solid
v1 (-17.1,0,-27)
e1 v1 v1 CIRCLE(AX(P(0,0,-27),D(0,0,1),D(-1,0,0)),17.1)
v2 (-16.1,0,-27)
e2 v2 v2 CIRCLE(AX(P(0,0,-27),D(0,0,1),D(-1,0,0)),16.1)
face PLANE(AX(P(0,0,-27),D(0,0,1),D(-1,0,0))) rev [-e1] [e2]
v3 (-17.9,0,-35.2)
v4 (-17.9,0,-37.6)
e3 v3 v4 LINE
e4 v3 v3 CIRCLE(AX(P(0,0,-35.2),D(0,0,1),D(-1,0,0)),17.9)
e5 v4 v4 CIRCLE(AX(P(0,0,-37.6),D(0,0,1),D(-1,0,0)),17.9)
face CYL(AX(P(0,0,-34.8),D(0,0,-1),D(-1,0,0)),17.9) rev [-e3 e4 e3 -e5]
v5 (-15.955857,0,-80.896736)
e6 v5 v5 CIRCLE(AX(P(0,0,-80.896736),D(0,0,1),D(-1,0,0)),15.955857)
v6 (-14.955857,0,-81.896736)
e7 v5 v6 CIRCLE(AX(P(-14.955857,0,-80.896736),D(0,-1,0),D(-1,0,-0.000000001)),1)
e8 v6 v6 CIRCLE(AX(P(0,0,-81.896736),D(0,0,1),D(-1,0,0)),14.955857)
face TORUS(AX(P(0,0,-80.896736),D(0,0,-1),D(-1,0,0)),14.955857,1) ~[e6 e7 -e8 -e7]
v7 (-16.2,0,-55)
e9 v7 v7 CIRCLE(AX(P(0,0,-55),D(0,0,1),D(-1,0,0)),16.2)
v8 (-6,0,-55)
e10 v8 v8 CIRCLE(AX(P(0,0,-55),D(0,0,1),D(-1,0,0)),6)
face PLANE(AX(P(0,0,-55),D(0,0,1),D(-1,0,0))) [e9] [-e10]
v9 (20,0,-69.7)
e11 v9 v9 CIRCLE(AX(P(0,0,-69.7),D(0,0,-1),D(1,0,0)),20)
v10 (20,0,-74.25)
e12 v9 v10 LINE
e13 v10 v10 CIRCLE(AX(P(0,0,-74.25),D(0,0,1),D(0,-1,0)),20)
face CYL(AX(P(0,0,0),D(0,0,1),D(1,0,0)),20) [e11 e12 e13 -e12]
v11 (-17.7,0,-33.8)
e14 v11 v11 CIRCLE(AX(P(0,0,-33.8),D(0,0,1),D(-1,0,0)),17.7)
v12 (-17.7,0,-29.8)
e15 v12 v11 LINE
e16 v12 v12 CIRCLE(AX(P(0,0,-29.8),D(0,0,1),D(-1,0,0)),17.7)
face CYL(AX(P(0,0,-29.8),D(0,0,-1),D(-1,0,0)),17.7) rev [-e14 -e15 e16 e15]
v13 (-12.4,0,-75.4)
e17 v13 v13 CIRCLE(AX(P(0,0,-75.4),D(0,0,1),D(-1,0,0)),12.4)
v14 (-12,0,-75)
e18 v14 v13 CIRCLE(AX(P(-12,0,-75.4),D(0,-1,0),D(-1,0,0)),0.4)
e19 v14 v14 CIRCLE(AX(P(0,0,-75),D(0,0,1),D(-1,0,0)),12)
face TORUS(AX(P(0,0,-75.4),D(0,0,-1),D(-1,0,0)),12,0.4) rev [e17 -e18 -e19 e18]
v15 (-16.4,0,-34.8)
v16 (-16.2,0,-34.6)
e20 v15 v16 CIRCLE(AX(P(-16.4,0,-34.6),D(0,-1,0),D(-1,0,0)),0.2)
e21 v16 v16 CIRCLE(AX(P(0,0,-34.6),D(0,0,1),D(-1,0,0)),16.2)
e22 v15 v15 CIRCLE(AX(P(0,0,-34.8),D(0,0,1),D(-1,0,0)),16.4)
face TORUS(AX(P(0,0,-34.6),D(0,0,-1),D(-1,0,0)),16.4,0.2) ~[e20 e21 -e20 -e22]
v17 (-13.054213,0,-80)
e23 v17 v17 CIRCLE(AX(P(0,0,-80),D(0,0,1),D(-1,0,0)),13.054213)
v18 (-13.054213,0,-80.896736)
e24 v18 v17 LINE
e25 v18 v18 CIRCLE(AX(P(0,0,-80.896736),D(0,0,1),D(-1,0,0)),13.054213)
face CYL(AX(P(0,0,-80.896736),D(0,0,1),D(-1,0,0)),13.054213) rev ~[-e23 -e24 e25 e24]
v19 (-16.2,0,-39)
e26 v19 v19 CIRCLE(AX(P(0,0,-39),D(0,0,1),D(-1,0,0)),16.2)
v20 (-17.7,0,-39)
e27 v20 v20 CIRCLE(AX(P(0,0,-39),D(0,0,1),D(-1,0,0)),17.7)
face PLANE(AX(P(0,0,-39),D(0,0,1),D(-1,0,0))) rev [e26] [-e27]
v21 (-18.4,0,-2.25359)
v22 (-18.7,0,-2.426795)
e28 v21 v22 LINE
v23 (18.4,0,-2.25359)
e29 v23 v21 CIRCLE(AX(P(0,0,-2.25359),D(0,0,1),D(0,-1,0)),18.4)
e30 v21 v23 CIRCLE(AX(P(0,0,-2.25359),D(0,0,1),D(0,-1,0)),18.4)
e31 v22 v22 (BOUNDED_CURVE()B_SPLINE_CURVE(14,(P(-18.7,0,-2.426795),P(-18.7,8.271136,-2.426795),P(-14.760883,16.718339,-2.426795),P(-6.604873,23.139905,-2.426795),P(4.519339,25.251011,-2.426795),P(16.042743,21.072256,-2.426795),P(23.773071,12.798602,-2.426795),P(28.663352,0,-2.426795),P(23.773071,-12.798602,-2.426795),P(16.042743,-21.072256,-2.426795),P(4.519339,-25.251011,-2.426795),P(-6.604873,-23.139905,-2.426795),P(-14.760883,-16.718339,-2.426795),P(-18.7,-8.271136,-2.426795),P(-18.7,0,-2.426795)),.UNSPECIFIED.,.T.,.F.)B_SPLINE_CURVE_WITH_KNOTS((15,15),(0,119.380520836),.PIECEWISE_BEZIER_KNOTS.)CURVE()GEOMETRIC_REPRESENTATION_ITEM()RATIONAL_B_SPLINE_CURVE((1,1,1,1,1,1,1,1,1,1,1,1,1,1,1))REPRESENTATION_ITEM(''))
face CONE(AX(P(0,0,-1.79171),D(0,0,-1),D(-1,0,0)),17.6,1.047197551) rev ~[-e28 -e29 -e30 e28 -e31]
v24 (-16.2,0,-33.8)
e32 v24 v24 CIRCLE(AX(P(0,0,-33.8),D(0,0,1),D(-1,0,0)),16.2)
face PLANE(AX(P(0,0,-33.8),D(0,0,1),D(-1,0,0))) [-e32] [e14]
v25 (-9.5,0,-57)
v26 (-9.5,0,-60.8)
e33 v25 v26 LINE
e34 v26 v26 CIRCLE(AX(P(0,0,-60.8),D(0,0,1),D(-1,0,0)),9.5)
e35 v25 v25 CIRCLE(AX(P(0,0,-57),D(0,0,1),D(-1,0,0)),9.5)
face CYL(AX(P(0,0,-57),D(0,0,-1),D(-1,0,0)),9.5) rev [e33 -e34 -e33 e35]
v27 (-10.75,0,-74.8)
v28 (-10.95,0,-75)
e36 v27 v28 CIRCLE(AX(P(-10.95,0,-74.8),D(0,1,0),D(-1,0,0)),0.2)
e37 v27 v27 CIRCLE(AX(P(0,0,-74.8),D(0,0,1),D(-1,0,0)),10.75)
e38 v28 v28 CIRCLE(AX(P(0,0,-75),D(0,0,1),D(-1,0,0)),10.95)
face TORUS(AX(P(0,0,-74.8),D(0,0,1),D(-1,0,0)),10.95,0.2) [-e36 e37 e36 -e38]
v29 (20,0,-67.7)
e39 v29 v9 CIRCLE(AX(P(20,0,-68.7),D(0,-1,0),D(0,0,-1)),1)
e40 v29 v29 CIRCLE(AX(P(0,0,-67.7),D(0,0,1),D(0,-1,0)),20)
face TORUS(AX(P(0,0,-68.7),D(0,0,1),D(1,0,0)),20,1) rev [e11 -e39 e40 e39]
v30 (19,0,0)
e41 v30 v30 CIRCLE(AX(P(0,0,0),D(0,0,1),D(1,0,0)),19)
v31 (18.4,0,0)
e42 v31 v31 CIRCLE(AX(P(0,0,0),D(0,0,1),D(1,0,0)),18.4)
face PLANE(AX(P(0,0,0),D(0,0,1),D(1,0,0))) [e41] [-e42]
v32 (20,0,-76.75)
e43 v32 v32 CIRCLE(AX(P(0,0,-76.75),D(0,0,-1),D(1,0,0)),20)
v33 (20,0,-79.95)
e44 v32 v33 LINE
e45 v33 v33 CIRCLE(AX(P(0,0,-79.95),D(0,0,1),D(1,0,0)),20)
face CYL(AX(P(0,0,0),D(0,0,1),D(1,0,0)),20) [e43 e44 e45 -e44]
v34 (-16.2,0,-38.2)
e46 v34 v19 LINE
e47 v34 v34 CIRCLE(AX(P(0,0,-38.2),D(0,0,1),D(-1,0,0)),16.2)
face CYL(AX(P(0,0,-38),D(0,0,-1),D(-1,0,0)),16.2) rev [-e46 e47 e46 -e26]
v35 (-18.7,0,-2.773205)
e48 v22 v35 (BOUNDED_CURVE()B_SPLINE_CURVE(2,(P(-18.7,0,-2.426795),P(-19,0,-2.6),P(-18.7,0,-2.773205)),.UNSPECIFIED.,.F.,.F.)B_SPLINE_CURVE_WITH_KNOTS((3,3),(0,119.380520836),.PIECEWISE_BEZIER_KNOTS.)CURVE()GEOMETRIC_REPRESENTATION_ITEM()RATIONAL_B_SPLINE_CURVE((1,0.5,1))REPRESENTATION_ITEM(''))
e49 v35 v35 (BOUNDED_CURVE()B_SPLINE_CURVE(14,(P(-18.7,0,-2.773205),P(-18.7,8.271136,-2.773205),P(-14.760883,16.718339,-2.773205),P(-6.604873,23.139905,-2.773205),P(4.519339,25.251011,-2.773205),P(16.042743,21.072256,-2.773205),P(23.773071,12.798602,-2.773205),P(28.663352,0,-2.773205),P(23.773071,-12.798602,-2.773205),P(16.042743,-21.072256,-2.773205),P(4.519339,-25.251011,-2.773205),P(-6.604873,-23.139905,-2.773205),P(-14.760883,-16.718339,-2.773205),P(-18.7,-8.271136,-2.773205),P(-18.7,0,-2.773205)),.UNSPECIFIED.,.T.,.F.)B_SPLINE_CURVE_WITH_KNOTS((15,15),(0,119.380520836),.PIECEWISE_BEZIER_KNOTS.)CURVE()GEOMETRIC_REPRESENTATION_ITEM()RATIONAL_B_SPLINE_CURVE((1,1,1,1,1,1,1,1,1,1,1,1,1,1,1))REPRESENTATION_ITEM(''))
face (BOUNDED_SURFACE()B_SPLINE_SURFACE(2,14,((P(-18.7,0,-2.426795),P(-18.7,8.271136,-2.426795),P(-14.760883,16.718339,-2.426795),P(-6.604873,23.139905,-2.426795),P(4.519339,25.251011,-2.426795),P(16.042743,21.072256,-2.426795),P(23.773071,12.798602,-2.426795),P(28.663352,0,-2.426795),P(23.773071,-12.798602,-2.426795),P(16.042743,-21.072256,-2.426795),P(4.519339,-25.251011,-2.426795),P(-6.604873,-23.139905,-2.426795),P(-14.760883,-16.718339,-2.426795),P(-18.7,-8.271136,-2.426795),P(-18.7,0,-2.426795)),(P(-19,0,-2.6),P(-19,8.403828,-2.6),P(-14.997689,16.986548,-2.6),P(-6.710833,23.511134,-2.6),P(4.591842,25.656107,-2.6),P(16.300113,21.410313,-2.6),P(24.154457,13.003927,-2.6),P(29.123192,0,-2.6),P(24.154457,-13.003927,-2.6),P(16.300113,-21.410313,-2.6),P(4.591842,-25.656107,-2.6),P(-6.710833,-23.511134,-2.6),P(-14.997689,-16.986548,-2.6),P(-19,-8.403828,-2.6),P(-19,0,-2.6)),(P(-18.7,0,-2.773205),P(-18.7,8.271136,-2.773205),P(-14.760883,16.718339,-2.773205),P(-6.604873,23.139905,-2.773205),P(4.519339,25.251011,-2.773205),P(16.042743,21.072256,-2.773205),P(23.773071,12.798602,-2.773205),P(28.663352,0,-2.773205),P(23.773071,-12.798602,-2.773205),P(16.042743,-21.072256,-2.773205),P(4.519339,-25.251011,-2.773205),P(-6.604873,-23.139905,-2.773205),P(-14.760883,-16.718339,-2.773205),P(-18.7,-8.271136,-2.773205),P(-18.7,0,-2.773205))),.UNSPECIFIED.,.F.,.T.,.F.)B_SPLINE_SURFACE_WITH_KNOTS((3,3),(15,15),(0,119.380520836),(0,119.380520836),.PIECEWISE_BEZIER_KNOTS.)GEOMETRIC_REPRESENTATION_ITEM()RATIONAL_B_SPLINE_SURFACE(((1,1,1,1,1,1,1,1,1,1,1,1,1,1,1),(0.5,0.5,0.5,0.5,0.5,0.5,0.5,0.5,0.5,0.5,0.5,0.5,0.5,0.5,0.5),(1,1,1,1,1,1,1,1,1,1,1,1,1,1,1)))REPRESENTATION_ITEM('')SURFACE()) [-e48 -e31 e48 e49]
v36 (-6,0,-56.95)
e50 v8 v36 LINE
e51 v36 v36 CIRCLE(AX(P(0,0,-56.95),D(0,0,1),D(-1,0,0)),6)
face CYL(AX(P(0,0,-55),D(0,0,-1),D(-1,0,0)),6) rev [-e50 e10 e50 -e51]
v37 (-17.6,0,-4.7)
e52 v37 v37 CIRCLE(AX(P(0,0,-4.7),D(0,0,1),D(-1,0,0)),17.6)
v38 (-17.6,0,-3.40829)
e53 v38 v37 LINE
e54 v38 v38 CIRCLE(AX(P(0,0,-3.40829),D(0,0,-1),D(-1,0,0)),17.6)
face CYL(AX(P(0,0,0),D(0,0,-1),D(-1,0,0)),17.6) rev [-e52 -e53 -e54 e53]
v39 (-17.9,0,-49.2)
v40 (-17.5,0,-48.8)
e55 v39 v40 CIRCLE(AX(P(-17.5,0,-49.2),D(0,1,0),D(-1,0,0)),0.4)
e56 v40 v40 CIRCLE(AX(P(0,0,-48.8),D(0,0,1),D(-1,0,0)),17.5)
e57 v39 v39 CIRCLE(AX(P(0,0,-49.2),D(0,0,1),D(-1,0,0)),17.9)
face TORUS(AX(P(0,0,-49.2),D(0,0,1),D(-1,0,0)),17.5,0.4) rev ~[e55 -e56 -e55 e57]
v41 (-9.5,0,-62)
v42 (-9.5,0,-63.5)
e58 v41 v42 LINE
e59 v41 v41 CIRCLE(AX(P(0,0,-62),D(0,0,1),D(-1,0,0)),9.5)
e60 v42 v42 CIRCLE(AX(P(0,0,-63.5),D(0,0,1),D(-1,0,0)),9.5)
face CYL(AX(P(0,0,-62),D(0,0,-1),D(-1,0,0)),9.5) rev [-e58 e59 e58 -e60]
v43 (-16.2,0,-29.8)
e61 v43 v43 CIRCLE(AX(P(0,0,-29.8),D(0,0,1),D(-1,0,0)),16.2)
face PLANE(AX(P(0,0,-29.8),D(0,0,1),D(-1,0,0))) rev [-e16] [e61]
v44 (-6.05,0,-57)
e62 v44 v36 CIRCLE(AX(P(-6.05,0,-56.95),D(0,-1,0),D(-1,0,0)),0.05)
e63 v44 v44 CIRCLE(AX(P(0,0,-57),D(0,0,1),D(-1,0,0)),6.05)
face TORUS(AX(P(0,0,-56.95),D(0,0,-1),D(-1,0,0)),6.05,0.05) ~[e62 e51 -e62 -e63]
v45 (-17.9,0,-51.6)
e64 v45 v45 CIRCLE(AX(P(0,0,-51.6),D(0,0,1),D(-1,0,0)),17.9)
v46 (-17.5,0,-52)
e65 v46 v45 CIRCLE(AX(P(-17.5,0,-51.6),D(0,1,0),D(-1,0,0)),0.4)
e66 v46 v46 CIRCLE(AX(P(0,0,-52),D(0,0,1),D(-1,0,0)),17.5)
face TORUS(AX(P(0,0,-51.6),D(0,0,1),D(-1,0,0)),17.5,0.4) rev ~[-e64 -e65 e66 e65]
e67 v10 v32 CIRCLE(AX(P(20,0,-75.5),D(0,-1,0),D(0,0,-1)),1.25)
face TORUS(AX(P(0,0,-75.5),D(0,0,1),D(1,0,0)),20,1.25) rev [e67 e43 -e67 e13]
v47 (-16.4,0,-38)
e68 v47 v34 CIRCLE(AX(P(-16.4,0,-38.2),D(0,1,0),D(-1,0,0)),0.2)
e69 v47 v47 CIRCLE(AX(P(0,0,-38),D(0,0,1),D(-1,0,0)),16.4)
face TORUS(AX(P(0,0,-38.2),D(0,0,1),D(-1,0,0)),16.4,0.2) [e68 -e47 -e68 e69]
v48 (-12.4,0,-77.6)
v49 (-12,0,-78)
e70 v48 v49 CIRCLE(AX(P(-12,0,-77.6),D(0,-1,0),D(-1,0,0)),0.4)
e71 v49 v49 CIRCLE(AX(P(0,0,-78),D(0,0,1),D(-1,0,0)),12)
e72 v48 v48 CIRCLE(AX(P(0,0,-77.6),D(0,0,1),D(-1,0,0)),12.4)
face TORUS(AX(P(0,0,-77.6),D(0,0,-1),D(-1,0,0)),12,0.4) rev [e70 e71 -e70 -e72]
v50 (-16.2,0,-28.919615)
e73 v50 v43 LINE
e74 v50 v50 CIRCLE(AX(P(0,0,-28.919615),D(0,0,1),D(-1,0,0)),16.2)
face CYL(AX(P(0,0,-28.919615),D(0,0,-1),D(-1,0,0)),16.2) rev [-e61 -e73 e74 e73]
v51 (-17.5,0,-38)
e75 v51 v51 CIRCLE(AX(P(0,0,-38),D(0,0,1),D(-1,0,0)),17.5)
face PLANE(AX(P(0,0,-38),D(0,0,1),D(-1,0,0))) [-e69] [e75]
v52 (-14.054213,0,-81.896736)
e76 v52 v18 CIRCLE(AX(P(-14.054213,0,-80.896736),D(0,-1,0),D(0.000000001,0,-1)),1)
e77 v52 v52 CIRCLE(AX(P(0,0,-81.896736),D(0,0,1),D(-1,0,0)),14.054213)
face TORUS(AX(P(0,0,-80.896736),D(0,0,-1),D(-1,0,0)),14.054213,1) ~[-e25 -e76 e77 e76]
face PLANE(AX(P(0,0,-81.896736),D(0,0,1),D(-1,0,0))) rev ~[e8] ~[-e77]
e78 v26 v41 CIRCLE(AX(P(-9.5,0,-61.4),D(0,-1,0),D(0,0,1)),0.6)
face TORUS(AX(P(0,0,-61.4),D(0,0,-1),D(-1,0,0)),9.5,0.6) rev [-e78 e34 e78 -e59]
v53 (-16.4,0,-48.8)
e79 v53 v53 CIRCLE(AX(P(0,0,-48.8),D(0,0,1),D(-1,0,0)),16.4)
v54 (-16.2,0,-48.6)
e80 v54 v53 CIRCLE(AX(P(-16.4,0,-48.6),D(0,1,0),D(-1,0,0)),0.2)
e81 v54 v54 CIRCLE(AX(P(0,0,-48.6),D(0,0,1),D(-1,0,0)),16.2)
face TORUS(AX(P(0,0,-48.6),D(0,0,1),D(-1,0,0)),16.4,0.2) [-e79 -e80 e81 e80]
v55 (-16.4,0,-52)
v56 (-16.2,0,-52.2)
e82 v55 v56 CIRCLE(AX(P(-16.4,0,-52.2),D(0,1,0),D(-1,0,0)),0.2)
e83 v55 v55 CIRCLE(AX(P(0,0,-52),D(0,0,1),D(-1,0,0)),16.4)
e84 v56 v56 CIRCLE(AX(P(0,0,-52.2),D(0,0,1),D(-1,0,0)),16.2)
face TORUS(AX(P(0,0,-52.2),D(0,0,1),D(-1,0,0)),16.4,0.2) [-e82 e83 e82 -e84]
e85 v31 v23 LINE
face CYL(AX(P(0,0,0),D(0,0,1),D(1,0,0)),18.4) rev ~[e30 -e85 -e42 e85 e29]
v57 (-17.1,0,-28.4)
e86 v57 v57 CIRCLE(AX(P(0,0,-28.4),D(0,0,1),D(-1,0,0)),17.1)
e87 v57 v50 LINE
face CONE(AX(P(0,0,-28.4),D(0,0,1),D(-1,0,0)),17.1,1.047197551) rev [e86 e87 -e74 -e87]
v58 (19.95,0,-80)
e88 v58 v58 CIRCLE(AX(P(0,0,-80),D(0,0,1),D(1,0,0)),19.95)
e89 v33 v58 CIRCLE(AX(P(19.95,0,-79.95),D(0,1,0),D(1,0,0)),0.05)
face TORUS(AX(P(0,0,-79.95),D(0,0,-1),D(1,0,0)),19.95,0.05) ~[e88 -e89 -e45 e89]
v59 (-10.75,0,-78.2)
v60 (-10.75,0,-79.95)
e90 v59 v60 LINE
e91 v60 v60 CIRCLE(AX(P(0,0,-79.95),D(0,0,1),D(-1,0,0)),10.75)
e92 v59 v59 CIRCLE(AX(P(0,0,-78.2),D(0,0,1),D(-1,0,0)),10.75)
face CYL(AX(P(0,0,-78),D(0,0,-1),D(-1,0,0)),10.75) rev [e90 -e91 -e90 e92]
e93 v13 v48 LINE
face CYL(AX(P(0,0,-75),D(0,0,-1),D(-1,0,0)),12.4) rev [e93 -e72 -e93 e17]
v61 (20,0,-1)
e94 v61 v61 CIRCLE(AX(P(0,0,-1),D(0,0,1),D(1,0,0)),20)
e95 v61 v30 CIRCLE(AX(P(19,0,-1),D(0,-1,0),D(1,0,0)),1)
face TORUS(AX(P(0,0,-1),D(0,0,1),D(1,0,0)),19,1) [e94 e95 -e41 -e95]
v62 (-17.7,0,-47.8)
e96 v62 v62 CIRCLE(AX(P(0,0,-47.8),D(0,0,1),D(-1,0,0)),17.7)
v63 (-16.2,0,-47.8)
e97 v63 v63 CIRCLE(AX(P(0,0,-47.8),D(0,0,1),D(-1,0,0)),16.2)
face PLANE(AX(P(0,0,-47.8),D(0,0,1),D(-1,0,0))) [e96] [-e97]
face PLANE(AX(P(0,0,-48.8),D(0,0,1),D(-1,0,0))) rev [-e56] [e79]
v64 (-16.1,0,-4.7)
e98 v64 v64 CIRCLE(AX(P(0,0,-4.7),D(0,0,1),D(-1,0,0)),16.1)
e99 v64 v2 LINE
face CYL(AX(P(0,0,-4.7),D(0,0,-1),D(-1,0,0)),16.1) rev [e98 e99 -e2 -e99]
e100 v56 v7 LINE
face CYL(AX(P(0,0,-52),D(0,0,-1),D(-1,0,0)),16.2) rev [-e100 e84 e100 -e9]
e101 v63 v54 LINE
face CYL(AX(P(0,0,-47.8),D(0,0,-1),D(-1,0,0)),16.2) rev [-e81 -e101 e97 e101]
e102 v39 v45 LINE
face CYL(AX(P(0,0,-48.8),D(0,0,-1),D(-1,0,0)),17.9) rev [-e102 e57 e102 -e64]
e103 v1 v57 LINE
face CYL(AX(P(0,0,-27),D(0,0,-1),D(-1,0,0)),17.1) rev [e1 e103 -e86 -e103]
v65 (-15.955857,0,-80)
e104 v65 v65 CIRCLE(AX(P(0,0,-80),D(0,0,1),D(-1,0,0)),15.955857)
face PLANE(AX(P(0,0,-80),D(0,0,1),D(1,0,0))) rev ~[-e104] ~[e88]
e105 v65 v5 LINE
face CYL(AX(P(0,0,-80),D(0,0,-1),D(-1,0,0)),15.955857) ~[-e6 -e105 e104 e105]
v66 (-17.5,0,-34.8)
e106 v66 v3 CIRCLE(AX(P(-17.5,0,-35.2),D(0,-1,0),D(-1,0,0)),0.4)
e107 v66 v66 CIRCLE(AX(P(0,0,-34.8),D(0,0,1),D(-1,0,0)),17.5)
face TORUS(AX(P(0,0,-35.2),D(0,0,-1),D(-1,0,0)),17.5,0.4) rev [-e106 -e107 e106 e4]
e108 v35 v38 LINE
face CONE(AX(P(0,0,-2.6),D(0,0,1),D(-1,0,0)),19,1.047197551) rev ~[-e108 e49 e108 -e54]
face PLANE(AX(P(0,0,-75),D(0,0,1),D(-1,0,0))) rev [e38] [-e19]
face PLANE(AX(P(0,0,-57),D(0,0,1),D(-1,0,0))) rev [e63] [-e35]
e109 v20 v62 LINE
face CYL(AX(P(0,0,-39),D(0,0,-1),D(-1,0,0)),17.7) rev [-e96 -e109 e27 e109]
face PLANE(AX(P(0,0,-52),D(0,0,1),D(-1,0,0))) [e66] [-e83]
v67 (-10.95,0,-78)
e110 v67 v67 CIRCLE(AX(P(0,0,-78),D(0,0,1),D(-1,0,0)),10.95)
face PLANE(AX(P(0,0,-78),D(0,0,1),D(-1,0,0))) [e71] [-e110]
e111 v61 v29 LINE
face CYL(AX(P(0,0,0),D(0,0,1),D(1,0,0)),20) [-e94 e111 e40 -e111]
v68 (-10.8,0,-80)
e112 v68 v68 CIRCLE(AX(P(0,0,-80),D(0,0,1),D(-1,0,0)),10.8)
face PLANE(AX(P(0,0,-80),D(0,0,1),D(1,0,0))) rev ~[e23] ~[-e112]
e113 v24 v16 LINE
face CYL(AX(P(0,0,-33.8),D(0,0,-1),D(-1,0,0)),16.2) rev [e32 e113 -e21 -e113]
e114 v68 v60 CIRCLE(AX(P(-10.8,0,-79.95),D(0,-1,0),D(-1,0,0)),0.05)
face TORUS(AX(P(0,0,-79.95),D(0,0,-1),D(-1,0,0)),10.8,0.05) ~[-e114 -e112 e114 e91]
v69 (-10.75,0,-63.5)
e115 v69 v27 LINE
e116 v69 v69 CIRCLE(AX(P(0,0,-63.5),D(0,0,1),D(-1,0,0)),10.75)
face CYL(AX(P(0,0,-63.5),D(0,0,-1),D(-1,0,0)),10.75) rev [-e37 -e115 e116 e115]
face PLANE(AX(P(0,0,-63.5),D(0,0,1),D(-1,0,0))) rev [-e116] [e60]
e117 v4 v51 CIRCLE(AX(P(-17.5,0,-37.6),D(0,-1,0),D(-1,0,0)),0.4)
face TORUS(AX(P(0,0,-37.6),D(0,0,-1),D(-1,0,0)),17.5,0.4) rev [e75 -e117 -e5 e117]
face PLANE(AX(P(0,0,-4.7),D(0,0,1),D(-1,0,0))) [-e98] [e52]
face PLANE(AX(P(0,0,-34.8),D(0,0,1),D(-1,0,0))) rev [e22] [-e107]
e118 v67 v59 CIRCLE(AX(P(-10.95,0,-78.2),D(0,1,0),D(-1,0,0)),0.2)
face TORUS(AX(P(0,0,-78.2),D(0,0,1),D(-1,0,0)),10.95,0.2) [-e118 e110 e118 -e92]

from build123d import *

# Parameters (mm, degrees)
SKETCH_1_R          = 20
EXTRUDE_1_DEPTH     = 80
FILLET_2_R          = 1
SKETCH_6_R          = 18.4
CUT_EXTRUDE_1_DEPTH = 2.6
FILLET_3_R          = 0.05
SKETCH_8_R          = 1.25
SKETCH_8_R_2        = 1
FILLET_12_R         = 0.4
FILLET_13_R         = 0.2
FILLET_14_R         = 0.2
FILLET_15_R         = 0.4
FILLET_16_R         = 0.2


with BuildPart() as part:
    # Эскиз1 → Бобышка-Вытянуть1 (new body)
    with BuildSketch(Plane.XY):
        Circle(SKETCH_1_R)
    extrude(amount=-EXTRUDE_1_DEPTH)

    # Эскиз4 → Вырез-Повернуть1 (revolve, cut)
    with BuildSketch(Plane(origin=(0, 0, 0), x_dir=(0, 0, -1), z_dir=(1, 0, 0)), mode=Mode.PRIVATE) as cut_revolve_1_sk:
        with BuildLine():
            Line((0, 0), (0, 17.6))
            Line((0, 17.6), (4.7, 17.6))
            Line((4.7, 17.6), (4.7, 16.1))
            Line((4.7, 16.1), (27, 16.1))
            Line((27, 16.1), (27, 17.1))
            Line((27, 17.1), (28.4, 17.1))
            Line((28.4, 17.1), (28.919615242, 16.2))
            Line((28.919615242, 16.2), (29.8, 16.2))
            Line((29.8, 16.2), (29.8, 17.7))
            Line((29.8, 17.7), (33.8, 17.7))
            Line((33.8, 17.7), (33.8, 16.2))
            Line((33.8, 16.2), (34.8, 16.2))
            Line((34.8, 16.2), (34.8, 17.9))
            Line((34.8, 17.9), (38, 17.9))
            Line((38, 17.9), (38, 16.2))
            Line((38, 16.2), (39, 16.2))
            Line((39, 16.2), (39, 17.7))
            Line((39, 17.7), (47.8, 17.7))
            Line((47.8, 17.7), (47.8, 16.2))
            Line((47.8, 16.2), (48.8, 16.2))
            Line((48.8, 16.2), (48.8, 17.9))
            Line((48.8, 17.9), (52, 17.9))
            Line((52, 17.9), (52, 16.2))
            Line((52, 16.2), (55, 16.2))
            Line((55, 16.2), (55, 6))
            Line((55, 6), (57, 6))
            Line((57, 6), (57, 9.5))
            Line((57, 9.5), (60.8, 9.5))
            ThreePointArc((60.8, 9.5), (61.4, 10.1), (62, 9.5))
            Line((62, 9.5), (63.5, 9.5))
            Line((63.5, 9.5), (63.5, 10.75))
            Line((63.5, 10.75), (75, 10.75))
            Line((75, 10.75), (75, 12.4))
            Line((75, 12.4), (78, 12.4))
            Line((78, 12.4), (78, 10.75))
            Line((78, 10.75), (80, 10.75))
            Line((80, 10.75), (80, 0))
            Line((80, 0), (0, 0))
        make_face()
    revolve(cut_revolve_1_sk.sketch.rotate(Axis((0, 0, -80), (0, 0, 1)), 90), axis=Axis((0, 0, -80), (0, 0, 1)), mode=Mode.SUBTRACT)

    # Эскиз5 → Вырез-Повернуть2 (revolve, cut)
    with BuildSketch(Plane(origin=(0, 0, 0), x_dir=(0, 0, -1), z_dir=(1, 0, 0)), mode=Mode.PRIVATE) as cut_revolve_2_sk:
        Polygon((3.408290377, 17.6), (1.791709623, 17.6), (2.6, 19), align=None)
    revolve(cut_revolve_2_sk.sketch.rotate(Axis((0, 0, 0), (0, 0, -1)), 270), axis=Axis((0, 0, 0), (0, 0, -1)), mode=Mode.SUBTRACT)

    # Скругление2
    fillet_2_edges = [part.edges().sort_by_distance(p)[0] for p in [
        (-20, 0, 0),
    ]]
    fillet(fillet_2_edges, radius=FILLET_2_R)

    # Эскиз6 → Вырез-Вытянуть1 (cut)
    with BuildSketch(Plane.XY):
        Circle(SKETCH_6_R)
    extrude(amount=-CUT_EXTRUDE_1_DEPTH, mode=Mode.SUBTRACT)

    # Скругление3
    fillet_3_edges = [part.edges().sort_by_distance(p)[0] for p in [
        (10.75, 0, -80),
        (-20, 0, -80),
        (6, 0, -57),
    ]]
    fillet(fillet_3_edges, radius=FILLET_3_R)

    # Эскиз7 → Повернуть1 (revolve)
    with BuildSketch(Plane(origin=(0, 0, 0), x_dir=(1, 0, 0), z_dir=(0, 1, 0))):
        with BuildLine():
            Line((-14.5, 80), (-15.955857244, 80))
            Line((-15.955857244, 80), (-15.955857244, 80.896736064))
            ThreePointArc((-15.955857244, 80.896736064), (-15.662964025, 81.603842845), (-14.955857244, 81.896736064))
            Line((-14.955857244, 81.896736064), (-14.054213222, 81.896736064))
            ThreePointArc((-14.054213222, 81.896736064), (-13.347106441, 81.603842845), (-13.054213222, 80.896736064))
            Line((-13.054213222, 80.896736064), (-13.054213222, 80))
            Line((-13.054213222, 80), (-14.5, 80))
        make_face()
    revolve(axis=Axis((0, 0, -88.958875933), (0, 0, 1)))

    # Эскиз8 → Вырез-Повернуть3 (revolve, cut)
    with BuildSketch(Plane(origin=(0, 0, 0), x_dir=(0, 0, -1), z_dir=(1, 0, 0)), mode=Mode.PRIVATE) as cut_revolve_3_sk:
        with Locations((75.5, 20)):
            Circle(SKETCH_8_R)
        with Locations((68.7, 20)):
            Circle(SKETCH_8_R_2)
    revolve(cut_revolve_3_sk.sketch.rotate(Axis((0, 0, 0), (0, 0, -1)), 90), axis=Axis((0, 0, 0), (0, 0, -1)), mode=Mode.SUBTRACT)

    # Скругление12
    fillet_12_edges = [part.edges().sort_by_distance(p)[0] for p in [
        (17.9, 0, -34.8),
        (17.9, 0, -38),
        (17.9, 0, -48.8),
        (17.9, 0, -52),
    ]]
    fillet(fillet_12_edges, radius=FILLET_12_R)

    # Скругление13
    fillet_13_edges = [part.edges().sort_by_distance(p)[0] for p in [
        (16.2, 0, -34.8),
        (16.2, 0, -38),
        (16.2, 0, -48.8),
        (16.2, 0, -52),
    ]]
    fillet(fillet_13_edges, radius=FILLET_13_R)

    # Скругление14
    fillet_14_edges = [part.edges().sort_by_distance(p)[0] for p in [
        (10.75, 0, -78),
        (10.75, 0, -75),
    ]]
    fillet(fillet_14_edges, radius=FILLET_14_R)

    # Скругление15
    fillet_15_edges = [part.edges().sort_by_distance(p)[0] for p in [
        (12.4, 0, -75),
        (12.4, 0, -78),
    ]]
    fillet(fillet_15_edges, radius=FILLET_15_R)

    # Скругление16
    fillet_16_edges = [part.edges().sort_by_distance(p)[0] for p in [
        (19, 0, -2.6),
    ]]
    fillet(fillet_16_edges, radius=FILLET_16_R)


solid = part.part
